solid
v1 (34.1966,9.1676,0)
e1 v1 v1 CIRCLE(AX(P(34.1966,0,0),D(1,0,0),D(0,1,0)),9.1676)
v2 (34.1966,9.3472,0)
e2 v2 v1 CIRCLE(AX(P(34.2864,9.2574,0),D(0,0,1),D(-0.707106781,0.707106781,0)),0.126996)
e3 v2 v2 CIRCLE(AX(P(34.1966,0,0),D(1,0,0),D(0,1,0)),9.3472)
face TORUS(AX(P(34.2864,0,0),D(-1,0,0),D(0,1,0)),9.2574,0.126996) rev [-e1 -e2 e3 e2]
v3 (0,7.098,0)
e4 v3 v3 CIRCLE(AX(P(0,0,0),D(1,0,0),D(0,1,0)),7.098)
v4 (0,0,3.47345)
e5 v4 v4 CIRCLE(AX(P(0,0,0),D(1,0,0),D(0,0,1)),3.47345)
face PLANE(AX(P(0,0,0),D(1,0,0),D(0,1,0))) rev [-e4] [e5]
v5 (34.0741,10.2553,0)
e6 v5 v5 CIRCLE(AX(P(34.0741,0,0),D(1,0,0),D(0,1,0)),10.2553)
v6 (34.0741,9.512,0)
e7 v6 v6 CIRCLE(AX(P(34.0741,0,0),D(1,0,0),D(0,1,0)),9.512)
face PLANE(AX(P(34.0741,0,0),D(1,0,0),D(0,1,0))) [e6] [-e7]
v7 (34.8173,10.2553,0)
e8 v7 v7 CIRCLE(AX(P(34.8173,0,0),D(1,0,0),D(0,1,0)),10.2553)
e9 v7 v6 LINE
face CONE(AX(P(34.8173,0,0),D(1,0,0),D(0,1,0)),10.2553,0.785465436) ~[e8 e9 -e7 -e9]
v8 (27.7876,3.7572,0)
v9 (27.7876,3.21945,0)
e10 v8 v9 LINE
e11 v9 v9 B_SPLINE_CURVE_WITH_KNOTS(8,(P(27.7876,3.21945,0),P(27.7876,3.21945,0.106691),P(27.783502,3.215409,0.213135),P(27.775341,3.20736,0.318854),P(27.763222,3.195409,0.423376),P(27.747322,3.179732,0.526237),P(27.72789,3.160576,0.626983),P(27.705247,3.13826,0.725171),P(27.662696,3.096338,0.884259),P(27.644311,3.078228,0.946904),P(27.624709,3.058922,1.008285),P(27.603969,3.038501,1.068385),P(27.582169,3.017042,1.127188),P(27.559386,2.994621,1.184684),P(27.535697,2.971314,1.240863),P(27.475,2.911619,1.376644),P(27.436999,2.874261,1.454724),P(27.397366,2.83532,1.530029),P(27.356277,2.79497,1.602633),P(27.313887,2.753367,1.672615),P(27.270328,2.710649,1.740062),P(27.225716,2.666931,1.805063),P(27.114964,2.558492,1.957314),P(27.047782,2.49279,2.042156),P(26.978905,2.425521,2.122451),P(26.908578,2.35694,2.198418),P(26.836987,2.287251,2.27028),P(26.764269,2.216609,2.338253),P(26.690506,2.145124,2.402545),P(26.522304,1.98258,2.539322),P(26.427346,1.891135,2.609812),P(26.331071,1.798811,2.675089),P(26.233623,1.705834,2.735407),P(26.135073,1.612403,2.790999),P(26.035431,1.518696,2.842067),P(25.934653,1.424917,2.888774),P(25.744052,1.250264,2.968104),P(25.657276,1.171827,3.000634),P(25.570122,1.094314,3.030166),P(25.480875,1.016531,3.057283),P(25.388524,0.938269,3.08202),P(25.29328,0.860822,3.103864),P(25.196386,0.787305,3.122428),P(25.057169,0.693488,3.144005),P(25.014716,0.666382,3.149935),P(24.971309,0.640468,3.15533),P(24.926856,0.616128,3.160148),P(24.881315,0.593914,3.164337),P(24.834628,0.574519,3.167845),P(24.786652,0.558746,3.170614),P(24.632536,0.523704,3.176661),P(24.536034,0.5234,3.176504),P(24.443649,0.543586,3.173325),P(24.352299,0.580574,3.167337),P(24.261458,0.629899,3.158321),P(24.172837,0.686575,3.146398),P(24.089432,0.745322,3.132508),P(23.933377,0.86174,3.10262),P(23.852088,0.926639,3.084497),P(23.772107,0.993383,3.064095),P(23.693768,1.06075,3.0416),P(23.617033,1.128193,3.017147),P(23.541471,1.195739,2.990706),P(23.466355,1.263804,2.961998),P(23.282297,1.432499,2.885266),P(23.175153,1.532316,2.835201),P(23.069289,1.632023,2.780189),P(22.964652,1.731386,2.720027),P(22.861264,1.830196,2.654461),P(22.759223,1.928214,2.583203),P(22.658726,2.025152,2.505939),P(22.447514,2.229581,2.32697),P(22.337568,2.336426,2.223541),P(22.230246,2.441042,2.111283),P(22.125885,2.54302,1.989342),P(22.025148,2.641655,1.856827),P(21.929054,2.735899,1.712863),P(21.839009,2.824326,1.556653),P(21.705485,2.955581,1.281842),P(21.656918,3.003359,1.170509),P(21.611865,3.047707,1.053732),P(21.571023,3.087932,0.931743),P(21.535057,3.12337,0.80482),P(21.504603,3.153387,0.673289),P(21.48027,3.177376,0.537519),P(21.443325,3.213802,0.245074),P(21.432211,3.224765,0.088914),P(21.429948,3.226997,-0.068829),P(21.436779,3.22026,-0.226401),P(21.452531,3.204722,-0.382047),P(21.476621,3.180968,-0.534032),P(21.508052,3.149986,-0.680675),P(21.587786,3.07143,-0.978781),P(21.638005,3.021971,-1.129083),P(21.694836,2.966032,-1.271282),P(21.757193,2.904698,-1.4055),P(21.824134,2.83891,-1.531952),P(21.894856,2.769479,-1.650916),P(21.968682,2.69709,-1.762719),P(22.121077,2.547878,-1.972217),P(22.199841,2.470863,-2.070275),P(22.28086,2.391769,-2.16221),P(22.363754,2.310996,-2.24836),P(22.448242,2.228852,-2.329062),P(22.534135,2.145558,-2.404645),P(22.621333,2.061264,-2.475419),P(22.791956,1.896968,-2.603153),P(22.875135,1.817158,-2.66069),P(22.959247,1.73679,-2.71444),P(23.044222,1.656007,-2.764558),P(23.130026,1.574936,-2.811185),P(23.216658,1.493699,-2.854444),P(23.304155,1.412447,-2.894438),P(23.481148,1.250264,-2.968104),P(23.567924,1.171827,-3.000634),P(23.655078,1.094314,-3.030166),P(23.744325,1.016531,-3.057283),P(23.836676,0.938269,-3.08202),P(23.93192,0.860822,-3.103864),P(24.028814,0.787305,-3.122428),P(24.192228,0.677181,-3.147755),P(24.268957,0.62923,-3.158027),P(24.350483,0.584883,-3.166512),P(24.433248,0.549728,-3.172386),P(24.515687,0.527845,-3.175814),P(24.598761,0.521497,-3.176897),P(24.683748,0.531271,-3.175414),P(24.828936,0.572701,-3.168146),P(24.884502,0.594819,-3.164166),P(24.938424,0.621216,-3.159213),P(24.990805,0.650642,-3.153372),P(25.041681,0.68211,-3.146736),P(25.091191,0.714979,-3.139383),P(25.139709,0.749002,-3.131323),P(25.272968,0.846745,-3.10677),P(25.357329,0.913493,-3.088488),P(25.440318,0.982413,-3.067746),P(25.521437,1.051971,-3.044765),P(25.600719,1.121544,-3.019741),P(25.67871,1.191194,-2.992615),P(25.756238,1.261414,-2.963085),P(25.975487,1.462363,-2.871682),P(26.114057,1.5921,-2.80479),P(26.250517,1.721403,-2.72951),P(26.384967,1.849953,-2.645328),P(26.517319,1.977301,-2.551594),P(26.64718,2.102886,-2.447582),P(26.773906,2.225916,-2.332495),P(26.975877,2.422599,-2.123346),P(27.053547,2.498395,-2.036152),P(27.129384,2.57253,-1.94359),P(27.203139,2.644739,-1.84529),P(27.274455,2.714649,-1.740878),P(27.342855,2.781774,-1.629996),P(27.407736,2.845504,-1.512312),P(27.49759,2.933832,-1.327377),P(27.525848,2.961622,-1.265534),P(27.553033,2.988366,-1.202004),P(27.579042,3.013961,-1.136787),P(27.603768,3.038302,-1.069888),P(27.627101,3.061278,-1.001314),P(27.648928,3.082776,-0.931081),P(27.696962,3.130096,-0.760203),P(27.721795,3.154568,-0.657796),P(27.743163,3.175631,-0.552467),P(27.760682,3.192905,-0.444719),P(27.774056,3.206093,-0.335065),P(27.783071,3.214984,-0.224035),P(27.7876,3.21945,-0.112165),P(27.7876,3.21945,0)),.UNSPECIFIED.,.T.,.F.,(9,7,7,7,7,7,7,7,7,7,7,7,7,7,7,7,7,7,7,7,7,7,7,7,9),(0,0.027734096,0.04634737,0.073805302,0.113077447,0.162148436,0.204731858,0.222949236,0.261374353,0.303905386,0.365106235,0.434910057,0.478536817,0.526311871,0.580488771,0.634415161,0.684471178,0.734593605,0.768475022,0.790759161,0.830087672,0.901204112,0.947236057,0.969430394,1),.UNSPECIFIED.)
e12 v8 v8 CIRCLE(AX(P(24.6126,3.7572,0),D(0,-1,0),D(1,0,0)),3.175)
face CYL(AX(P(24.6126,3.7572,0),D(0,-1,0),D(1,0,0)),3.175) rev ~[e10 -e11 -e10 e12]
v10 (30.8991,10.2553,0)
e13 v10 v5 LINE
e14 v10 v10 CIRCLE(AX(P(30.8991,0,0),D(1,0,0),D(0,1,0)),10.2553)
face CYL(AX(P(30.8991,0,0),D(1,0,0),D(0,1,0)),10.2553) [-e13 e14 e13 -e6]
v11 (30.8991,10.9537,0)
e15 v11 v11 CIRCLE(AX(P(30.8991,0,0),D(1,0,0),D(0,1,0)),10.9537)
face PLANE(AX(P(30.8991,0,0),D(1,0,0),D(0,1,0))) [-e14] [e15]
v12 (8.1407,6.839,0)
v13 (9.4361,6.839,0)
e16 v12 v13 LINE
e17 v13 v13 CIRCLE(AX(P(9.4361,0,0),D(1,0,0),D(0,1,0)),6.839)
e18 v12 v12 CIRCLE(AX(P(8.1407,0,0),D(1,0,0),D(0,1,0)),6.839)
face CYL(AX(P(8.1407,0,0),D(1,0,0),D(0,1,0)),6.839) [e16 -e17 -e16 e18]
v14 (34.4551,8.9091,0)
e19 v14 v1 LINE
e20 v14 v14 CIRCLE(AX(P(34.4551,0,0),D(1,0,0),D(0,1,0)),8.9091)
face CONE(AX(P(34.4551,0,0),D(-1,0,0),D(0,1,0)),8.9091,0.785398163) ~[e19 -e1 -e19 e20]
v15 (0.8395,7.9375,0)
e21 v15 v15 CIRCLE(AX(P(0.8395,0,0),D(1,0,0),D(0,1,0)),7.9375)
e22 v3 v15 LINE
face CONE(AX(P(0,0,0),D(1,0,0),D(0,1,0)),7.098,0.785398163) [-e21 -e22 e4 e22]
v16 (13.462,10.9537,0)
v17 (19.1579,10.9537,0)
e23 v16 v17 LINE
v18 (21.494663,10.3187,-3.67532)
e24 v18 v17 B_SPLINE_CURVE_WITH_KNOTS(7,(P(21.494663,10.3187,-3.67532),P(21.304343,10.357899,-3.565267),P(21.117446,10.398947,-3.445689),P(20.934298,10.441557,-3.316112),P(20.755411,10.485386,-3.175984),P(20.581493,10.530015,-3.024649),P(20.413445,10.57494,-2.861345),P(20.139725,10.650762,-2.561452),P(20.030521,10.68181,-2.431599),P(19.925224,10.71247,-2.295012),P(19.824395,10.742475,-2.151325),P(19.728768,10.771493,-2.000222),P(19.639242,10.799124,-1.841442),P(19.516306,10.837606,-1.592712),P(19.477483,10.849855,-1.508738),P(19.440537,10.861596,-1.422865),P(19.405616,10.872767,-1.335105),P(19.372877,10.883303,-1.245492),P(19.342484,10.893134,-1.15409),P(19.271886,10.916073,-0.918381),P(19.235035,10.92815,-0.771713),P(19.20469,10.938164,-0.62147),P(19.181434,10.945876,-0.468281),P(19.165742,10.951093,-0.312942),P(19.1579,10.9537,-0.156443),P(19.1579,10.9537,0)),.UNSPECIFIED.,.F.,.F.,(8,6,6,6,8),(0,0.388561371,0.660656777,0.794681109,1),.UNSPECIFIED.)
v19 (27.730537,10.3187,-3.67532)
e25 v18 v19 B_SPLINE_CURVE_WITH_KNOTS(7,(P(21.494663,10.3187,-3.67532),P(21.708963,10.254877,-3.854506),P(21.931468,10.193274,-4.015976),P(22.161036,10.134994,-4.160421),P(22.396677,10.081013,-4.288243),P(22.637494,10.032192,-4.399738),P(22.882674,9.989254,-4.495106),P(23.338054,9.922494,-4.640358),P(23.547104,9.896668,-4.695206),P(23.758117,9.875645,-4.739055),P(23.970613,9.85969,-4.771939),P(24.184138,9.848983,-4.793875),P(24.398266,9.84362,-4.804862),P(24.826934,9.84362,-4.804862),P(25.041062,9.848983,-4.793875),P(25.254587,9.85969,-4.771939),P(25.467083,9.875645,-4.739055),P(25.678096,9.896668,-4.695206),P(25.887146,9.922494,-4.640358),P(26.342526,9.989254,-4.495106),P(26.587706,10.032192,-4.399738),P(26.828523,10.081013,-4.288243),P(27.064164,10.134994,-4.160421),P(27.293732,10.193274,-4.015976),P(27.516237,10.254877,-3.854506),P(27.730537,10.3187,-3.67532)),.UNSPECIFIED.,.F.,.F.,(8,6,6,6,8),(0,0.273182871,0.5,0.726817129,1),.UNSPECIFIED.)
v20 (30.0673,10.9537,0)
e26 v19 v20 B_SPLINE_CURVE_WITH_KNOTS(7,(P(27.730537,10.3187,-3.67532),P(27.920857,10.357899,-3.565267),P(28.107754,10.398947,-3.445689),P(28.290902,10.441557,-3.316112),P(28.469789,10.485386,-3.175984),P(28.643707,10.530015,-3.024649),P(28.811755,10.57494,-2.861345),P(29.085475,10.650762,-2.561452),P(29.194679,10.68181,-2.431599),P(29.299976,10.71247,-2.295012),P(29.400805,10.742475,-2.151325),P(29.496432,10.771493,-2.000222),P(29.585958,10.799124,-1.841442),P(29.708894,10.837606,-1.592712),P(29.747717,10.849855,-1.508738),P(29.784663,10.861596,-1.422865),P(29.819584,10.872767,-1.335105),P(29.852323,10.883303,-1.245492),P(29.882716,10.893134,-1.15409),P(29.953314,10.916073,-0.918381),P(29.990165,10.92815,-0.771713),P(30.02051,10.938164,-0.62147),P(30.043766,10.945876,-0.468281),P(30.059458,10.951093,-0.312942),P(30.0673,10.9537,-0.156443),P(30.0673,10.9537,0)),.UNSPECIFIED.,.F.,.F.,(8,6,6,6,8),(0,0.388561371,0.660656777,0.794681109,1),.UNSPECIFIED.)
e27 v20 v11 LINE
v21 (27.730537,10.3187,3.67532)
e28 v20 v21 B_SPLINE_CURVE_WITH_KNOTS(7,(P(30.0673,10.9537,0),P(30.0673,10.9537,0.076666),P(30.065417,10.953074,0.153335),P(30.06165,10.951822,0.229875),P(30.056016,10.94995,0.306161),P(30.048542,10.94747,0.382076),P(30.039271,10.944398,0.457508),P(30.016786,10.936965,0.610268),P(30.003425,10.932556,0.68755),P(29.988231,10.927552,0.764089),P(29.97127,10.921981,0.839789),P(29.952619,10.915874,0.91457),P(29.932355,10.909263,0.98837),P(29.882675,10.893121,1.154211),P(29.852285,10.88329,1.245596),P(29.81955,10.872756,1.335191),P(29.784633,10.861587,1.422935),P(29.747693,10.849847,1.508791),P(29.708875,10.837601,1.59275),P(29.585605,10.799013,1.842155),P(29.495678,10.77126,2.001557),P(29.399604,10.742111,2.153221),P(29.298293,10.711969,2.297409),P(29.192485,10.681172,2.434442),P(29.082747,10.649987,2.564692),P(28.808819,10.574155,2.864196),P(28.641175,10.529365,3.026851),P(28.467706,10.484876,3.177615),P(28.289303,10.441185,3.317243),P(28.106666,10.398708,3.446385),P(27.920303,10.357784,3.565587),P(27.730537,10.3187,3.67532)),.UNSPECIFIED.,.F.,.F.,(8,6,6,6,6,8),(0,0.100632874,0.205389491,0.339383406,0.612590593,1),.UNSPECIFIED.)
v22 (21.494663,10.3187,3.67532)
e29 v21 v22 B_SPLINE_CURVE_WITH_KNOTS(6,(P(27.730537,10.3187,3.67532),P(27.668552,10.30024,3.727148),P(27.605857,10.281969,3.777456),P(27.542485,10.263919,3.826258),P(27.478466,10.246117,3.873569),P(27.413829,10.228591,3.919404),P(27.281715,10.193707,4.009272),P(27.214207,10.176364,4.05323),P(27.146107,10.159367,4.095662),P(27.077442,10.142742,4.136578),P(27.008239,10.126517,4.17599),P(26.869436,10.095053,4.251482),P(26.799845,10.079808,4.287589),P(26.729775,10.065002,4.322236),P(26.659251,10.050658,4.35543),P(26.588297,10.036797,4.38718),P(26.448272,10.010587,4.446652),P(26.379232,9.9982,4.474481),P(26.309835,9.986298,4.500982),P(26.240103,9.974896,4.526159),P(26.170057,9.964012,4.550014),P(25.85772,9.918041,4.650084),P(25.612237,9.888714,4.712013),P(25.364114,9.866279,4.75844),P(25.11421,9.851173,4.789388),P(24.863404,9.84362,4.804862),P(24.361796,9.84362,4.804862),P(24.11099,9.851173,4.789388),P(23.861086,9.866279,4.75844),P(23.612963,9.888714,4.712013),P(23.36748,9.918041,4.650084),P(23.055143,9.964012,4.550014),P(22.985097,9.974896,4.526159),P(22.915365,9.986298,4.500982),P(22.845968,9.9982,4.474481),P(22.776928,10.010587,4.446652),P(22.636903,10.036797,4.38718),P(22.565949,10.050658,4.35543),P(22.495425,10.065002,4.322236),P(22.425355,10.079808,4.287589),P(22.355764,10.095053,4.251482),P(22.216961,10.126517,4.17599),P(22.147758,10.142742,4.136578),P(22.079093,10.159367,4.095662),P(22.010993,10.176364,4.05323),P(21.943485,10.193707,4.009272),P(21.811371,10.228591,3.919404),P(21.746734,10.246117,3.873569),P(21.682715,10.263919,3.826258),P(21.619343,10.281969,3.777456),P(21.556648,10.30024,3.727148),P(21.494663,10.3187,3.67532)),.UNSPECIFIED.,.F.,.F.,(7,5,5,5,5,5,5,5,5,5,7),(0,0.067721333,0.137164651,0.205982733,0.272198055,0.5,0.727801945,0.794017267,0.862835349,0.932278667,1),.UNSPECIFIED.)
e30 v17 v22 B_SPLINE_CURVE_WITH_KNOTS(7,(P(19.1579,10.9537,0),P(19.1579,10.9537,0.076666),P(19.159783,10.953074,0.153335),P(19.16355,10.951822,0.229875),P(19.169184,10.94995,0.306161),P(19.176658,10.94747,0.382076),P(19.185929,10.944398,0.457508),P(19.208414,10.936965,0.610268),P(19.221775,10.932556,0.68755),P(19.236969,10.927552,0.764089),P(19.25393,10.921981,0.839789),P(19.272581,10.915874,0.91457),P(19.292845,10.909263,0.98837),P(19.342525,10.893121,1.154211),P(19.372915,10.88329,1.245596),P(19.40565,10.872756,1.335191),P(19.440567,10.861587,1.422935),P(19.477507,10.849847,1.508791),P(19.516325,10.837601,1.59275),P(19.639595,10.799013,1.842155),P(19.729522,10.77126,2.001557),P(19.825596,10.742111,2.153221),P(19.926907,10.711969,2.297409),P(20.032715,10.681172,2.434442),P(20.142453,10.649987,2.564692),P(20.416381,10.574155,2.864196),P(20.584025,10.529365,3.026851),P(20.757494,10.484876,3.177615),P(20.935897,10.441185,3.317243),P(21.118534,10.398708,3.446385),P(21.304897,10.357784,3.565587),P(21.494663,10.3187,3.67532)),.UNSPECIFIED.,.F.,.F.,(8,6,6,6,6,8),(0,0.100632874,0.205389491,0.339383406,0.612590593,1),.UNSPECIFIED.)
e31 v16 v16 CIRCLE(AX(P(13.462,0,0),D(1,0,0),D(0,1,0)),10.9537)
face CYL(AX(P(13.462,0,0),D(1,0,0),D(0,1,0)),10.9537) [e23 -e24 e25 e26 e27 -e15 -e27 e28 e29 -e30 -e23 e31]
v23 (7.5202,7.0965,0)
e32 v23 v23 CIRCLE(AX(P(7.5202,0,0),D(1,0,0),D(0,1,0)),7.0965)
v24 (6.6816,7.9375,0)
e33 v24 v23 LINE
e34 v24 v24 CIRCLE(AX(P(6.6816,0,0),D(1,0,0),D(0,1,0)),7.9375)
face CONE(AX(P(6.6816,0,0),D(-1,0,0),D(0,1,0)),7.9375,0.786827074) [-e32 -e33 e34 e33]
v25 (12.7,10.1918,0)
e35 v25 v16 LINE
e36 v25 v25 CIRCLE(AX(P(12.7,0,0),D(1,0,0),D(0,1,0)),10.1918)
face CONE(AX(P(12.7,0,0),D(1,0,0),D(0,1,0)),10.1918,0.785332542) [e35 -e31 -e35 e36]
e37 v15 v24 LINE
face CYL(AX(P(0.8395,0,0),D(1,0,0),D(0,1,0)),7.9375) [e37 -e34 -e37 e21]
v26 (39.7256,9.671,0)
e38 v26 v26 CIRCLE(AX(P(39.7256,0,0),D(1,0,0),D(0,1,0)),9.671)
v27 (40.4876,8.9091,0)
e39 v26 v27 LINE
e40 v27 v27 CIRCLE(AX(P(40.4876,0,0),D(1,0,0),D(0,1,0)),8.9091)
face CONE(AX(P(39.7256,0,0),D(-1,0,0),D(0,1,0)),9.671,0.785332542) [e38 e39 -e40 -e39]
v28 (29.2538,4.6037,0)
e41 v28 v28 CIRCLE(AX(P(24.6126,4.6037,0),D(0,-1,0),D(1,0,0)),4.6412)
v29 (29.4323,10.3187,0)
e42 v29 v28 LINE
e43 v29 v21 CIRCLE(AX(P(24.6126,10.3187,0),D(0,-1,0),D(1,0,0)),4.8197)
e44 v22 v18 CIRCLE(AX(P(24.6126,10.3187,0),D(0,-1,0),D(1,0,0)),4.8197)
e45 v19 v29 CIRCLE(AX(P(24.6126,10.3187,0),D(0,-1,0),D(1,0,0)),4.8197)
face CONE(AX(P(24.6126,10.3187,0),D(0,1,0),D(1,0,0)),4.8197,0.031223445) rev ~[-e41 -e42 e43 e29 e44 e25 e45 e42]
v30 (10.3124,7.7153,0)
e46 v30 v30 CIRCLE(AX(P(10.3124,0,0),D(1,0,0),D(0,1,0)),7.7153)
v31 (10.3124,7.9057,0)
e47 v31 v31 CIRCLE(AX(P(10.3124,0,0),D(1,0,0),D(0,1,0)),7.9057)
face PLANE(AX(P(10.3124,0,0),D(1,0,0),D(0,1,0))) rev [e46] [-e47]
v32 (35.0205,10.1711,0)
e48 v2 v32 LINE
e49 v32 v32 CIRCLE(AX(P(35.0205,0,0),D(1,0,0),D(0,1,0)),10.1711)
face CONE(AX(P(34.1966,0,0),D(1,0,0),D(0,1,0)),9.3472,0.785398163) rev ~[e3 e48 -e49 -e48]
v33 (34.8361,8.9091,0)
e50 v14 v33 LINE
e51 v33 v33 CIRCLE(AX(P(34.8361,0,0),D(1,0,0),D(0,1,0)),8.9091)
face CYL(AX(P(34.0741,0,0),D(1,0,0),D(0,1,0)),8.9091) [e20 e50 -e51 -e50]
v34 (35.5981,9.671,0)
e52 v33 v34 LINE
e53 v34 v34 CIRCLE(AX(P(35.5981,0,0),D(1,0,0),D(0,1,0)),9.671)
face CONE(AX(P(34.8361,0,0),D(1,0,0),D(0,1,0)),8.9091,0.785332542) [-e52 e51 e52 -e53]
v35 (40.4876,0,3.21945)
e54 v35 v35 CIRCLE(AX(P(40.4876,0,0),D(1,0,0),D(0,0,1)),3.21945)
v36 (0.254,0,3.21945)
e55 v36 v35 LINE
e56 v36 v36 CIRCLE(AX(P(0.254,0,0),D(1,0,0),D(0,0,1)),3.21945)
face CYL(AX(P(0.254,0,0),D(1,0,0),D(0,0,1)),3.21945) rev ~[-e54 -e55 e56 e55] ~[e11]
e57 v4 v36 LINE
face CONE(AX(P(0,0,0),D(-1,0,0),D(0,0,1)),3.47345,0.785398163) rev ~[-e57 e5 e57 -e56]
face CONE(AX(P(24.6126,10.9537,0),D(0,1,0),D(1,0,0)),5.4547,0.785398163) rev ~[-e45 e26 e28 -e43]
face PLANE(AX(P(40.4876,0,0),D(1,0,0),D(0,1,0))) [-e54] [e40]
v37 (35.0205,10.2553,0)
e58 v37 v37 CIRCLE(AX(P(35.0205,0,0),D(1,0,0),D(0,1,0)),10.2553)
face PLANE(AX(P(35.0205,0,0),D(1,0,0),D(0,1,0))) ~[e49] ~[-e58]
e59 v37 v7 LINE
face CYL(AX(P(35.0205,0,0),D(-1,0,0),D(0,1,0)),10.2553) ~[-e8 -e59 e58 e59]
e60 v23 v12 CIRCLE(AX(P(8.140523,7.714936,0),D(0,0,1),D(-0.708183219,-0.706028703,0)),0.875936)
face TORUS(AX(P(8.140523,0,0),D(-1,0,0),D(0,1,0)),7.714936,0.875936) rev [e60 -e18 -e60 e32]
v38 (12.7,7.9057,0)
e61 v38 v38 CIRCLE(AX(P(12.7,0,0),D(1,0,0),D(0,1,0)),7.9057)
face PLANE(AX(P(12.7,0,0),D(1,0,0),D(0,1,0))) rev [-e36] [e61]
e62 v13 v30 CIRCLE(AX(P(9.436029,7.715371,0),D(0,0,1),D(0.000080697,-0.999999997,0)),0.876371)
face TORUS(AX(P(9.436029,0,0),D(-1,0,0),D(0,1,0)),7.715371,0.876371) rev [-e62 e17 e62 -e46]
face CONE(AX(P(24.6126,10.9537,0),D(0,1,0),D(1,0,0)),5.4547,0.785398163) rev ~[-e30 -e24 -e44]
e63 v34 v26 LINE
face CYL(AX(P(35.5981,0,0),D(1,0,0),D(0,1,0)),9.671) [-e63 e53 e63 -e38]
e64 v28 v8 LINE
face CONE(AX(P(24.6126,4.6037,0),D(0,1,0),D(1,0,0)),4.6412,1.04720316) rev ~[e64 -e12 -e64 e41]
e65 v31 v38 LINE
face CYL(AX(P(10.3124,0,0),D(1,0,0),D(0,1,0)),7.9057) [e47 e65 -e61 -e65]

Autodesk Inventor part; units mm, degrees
sketch "Sketch_2" plane through (0, 0, 0) normal (0, 0, 1) x (1, 0, 0)
  line L0 (12.7, 0) -> (0, 0)
  line L1 (0, 0) -> (0, 7.098)
  line L2 (0, 7.098) -> (0.8395, 7.9375)
  line L3 (0.8395, 7.9375) -> (6.6816, 7.9375)
  line L4 (6.6816, 7.9375) -> (7.5202, 7.0965)
  arc A0 (7.5202, 7.0965) -> (8.1407, 6.839) centre (8.1407, 7.7152) ccw
  line L5 (8.1407, 6.839) -> (9.4361, 6.839)
  arc A1 (9.4361, 6.839) -> (10.3124, 7.7153) centre (9.4361, 7.7152) ccw
  line L6 (10.3124, 7.7153) -> (10.3124, 7.9057)
  line L7 (10.3124, 7.9057) -> (12.7, 7.9057)
  line L8 (12.7, 7.9057) -> (12.7, 0)
  line L9 (12.7, 0) -> (0, 0)
revolve "Revolution1" add sketch "Sketch_2" angle 360 about axis through (12.7, 0, 0) along (1, 0, 0)
thread "Thread1" size "5/8-18 UNF" class "2A" standard "ANSI Unified Screw Threads" full length
sketch "Sketch_3" plane through (0, 0, 0) normal (0, 0, 1) x (1, 0, 0)
  line L0 (40.4876, 0) -> (12.7, 0)
  line L1 (12.7, 0) -> (12.7, 10.1918)
  line L2 (12.7, 10.1918) -> (13.462, 10.9537)
  line L3 (13.462, 10.9537) -> (34.0741, 10.9537)
  line L4 (34.0741, 10.9537) -> (34.0741, 8.9091)
  line L5 (34.0741, 8.9091) -> (34.8361, 8.9091)
  line L6 (34.8361, 8.9091) -> (35.5981, 9.671)
  line L7 (35.5981, 9.671) -> (39.7256, 9.671)
  line L8 (39.7256, 9.671) -> (40.4876, 8.9091)
  line L9 (40.4876, 8.9091) -> (40.4876, 0)
  line L10 (40.4876, 0) -> (12.7, 0)
revolve "Revolution2" add sketch "Sketch_3" angle 360 about axis through (40.4876, 0, 0) along (1, 0, 0)
sketch "Sketch3" plane through (0, 0, 0) normal (-1, 0, 0) x (0, 0, 1)
  point P0 (0, 0)
hole "Hole1" at (0, 0, 0) direction (1, 0, 0) diameter 6.4389 depth 40.4876 countersink diameter 6.9469 countersink angle 90
sketch "Sketch_10" plane through (0, 0, 0) normal (0, 0, 1) x (1, 0, 0)
  line L0 (34.0741, 0) -> (30.8991, 0)
  line L1 (30.8991, 15.3353) -> (30.8991, 10.2553)
  line L2 (30.8991, 10.2553) -> (34.0741, 10.2553)
  line L3 (34.0741, 10.2553) -> (34.0741, 15.3353)
  line L4 (34.0741, 15.3353) -> (30.8991, 15.3353)
revolve "Revolution3" cut sketch "Sketch_10" angle 360 about axis through (34.0741, 0, 0) along (1, 0, 0)
sketch "Sketch_43" plane through (0, 0, 0) normal (0, 0, 1) x (1, 0, 0)
  line L0 (24.6126, 0) -> (24.6126, 10.9537)
  line L1 (24.6126, 10.9537) -> (30.0673, 10.9537)
  line L2 (30.0673, 10.9537) -> (29.4323, 10.3187)
  line L3 (29.4323, 10.3187) -> (29.2538, 4.6037)
  line L4 (29.2538, 4.6037) -> (27.7876, 3.7572)
  line L5 (27.7876, 3.7572) -> (27.7876, 0)
  line L6 (27.7876, 0) -> (24.6126, 0)
  line L7 (24.6126, 0) -> (24.6126, 10.9537)
revolve "Revolution4" cut sketch "Sketch_43" angle 360 about axis through (24.6126, 0, 0) along (0, -1, 0)
thread "Thread2" size "1/8" designation "1/8 - 27 NPT" standard "NPT" length 3.1765
sketch "Sketch_47" plane through (0, 0, 0) normal (0, 0, 1) x (1, 0, 0)
  line L0 (34.8361, 0) -> (34.0741, 0)
  line L1 (34.0741, 9.512) -> (34.0741, 8.655)
  line L2 (34.0741, 8.655) -> (34.8361, 8.655)
  line L3 (34.8361, 8.655) -> (34.8361, 8.9091)
  line L4 (34.8361, 8.9091) -> (34.4551, 8.9091)
  line L5 (34.4551, 8.9091) -> (34.1966, 9.1676)
  arc A0 (34.1966, 9.3472) -> (34.1966, 9.1676) centre (34.2864, 9.2574) ccw
  line L6 (34.1966, 9.3472) -> (35.0205, 10.1711)
  line L7 (35.0205, 10.1711) -> (35.0205, 10.2553)
  line L8 (35.0205, 10.2553) -> (34.8173, 10.2553)
  line L9 (34.8173, 10.2553) -> (34.0741, 9.512)
revolve "Revolution5" add sketch "Sketch_47" angle 360 about axis through (34.8361, 0, 0) along (1, 0, 0)
ref_plane "dp1_XY" through (12.7, 7.9057, 0) normal (0, 0, 1) x (1, 0, 0)
ref_plane "dp1_YZ" through (12.7, 7.9057, 0) normal (1, 0, 0) x (0, 1, 0)
ref_plane "dp1_ZX" through (12.7, 7.9057, 0) normal (0, 1, 0) x (0, 0, 1)
ref_plane "dp2_XY" through (12.7, -7.9057, 0) normal (0, 0, 1) x (1, 0, 0)
ref_plane "dp2_YZ" through (12.7, -7.9057, 0) normal (1, 0, 0) x (0, 1, 0)
ref_plane "dp2_ZX" through (12.7, -7.9057, 0) normal (0, 1, 0) x (0, 0, 1)
ref_plane "hh_XY" through (0, 7.9375, 0) normal (0, 0, 1) x (1, 0, 0)
ref_plane "hh_YZ" through (0, 7.9375, 0) normal (1, 0, 0) x (0, 1, 0)
ref_plane "hh_ZX" through (0, 7.9375, 0) normal (0, 1, 0) x (0, 0, 1)
ref_plane "port_XY" through (24.6126, 10.9537, 0) normal (0, 0, 1) x (1, 0, 0)
ref_plane "port_YZ" through (24.6126, 10.9537, 0) normal (1, 0, 0) x (0, 1, 0)
ref_plane "port_ZX" through (24.6126, 10.9537, 0) normal (0, 1, 0) x (0, 0, 1)
ref_plane "rod_guide_XY" through (0, 0, 0) normal (1, 0, 0) x (0, 0, -1)
ref_plane "rod_guide_YZ" through (0, 0, 0) normal (0, 0, -1) x (0, 1, 0)
ref_plane "rod_guide_ZX" through (0, 0, 0) normal (0, 1, 0) x (1, 0, 0)
ref_plane "s1_XY" through (10.3124, 0, 0) normal (0, 0, 1) x (1, 0, 0)
ref_plane "s1_YZ" through (10.3124, 0, 0) normal (1, 0, 0) x (0, 1, 0)
ref_plane "s1_ZX" through (10.3124, 0, 0) normal (0, 1, 0) x (0, 0, 1)
ref_plane "s2_XY" through (12.7, 0, 0) normal (0, 0, 1) x (1, 0, 0)
ref_plane "s2_YZ" through (12.7, 0, 0) normal (1, 0, 0) x (0, 1, 0)
ref_plane "s2_ZX" through (12.7, 0, 0) normal (0, 1, 0) x (0, 0, 1)
ref_plane "t1_XY" through (12.7, 0, 0) normal (1, 0, 0) x (0, 0, -1)
ref_plane "t1_YZ" through (12.7, 0, 0) normal (0, 0, -1) x (0, 1, 0)
ref_plane "t1_ZX" through (12.7, 0, 0) normal (0, 1, 0) x (1, 0, 0)
ref_plane "t111_XY" through (12.7, 0, 0) normal (1, 0, 0) x (0, 0, -1)
ref_plane "t111_YZ" through (12.7, 0, 0) normal (0, 0, -1) x (0, 1, 0)
ref_plane "t111_ZX" through (12.7, 0, 0) normal (0, 1, 0) x (1, 0, 0)
ref_plane "to_foot_bracket_XY" through (12.7, 0, 0) normal (1, 0, 0) x (0, 0, -1)
ref_plane "to_foot_bracket_YZ" through (12.7, 0, 0) normal (0, 0, -1) x (0, 1, 0)
ref_plane "to_foot_bracket_ZX" through (12.7, 0, 0) normal (0, 1, 0) x (1, 0, 0)
ref_plane "to_nut_XY" through (10.3124, 0, 0) normal (1, 0, 0) x (0, 0, -1)
ref_plane "to_nut_YZ" through (10.3124, 0, 0) normal (0, 0, -1) x (0, 1, 0)
ref_plane "to_nut_ZX" through (10.3124, 0, 0) normal (0, 1, 0) x (1, 0, 0)
ref_plane "to_rod_XY" through (0, 0, 0) normal (1, 0, 0) x (0, 0, -1)
ref_plane "to_rod_YZ" through (0, 0, 0) normal (0, 0, -1) x (0, 1, 0)
ref_plane "to_rod_ZX" through (0, 0, 0) normal (0, 1, 0) x (1, 0, 0)
ref_plane "to_screw_XY" through (24.6126, -6.0452, -2.032) normal (0, 0, -1) x (1, 0, 0)
ref_plane "to_screw_YZ" through (24.6126, -6.0452, -2.032) normal (1, 0, 0) x (0, -1, 0)
ref_plane "to_screw_ZX" through (24.6126, -6.0452, -2.032) normal (0, -1, 0) x (0, 0, -1)
ref_plane "to_trunnion_brackets_XY" through (11.1252, 0, 0) normal (0, 1, 0) x (1, 0, 0)
ref_plane "to_trunnion_brackets_YZ" through (11.1252, 0, 0) normal (1, 0, 0) x (0, 0, -1)
ref_plane "to_trunnion_brackets_ZX" through (11.1252, 0, 0) normal (0, 0, -1) x (0, 1, 0)
ref_plane "to_trunnion_brackets1_XY" through (11.1252, 12.7, 0) normal (0, 1, 0) x (1, 0, 0)
ref_plane "to_trunnion_brackets1_YZ" through (11.1252, 12.7, 0) normal (1, 0, 0) x (0, 0, -1)
ref_plane "to_trunnion_brackets1_ZX" through (11.1252, 12.7, 0) normal (0, 0, -1) x (0, 1, 0)
ref_plane "to_trunnion_brackets2_XY" through (11.1252, -12.7, 0) normal (0, 1, 0) x (1, 0, 0)
ref_plane "to_trunnion_brackets2_YZ" through (11.1252, -12.7, 0) normal (1, 0, 0) x (0, 0, -1)
ref_plane "to_trunnion_brackets2_ZX" through (11.1252, -12.7, 0) normal (0, 0, -1) x (0, 1, 0)
ref_plane "to_tube_XY" through (34.8361, 0, 0) normal (1, 0, 0) x (0, 0, -1)
ref_plane "to_tube_YZ" through (34.8361, 0, 0) normal (0, 0, -1) x (0, 1, 0)
ref_plane "to_tube_ZX" through (34.8361, 0, 0) normal (0, 1, 0) x (1, 0, 0)
properties part number "04RK000-0_rod_guide"
